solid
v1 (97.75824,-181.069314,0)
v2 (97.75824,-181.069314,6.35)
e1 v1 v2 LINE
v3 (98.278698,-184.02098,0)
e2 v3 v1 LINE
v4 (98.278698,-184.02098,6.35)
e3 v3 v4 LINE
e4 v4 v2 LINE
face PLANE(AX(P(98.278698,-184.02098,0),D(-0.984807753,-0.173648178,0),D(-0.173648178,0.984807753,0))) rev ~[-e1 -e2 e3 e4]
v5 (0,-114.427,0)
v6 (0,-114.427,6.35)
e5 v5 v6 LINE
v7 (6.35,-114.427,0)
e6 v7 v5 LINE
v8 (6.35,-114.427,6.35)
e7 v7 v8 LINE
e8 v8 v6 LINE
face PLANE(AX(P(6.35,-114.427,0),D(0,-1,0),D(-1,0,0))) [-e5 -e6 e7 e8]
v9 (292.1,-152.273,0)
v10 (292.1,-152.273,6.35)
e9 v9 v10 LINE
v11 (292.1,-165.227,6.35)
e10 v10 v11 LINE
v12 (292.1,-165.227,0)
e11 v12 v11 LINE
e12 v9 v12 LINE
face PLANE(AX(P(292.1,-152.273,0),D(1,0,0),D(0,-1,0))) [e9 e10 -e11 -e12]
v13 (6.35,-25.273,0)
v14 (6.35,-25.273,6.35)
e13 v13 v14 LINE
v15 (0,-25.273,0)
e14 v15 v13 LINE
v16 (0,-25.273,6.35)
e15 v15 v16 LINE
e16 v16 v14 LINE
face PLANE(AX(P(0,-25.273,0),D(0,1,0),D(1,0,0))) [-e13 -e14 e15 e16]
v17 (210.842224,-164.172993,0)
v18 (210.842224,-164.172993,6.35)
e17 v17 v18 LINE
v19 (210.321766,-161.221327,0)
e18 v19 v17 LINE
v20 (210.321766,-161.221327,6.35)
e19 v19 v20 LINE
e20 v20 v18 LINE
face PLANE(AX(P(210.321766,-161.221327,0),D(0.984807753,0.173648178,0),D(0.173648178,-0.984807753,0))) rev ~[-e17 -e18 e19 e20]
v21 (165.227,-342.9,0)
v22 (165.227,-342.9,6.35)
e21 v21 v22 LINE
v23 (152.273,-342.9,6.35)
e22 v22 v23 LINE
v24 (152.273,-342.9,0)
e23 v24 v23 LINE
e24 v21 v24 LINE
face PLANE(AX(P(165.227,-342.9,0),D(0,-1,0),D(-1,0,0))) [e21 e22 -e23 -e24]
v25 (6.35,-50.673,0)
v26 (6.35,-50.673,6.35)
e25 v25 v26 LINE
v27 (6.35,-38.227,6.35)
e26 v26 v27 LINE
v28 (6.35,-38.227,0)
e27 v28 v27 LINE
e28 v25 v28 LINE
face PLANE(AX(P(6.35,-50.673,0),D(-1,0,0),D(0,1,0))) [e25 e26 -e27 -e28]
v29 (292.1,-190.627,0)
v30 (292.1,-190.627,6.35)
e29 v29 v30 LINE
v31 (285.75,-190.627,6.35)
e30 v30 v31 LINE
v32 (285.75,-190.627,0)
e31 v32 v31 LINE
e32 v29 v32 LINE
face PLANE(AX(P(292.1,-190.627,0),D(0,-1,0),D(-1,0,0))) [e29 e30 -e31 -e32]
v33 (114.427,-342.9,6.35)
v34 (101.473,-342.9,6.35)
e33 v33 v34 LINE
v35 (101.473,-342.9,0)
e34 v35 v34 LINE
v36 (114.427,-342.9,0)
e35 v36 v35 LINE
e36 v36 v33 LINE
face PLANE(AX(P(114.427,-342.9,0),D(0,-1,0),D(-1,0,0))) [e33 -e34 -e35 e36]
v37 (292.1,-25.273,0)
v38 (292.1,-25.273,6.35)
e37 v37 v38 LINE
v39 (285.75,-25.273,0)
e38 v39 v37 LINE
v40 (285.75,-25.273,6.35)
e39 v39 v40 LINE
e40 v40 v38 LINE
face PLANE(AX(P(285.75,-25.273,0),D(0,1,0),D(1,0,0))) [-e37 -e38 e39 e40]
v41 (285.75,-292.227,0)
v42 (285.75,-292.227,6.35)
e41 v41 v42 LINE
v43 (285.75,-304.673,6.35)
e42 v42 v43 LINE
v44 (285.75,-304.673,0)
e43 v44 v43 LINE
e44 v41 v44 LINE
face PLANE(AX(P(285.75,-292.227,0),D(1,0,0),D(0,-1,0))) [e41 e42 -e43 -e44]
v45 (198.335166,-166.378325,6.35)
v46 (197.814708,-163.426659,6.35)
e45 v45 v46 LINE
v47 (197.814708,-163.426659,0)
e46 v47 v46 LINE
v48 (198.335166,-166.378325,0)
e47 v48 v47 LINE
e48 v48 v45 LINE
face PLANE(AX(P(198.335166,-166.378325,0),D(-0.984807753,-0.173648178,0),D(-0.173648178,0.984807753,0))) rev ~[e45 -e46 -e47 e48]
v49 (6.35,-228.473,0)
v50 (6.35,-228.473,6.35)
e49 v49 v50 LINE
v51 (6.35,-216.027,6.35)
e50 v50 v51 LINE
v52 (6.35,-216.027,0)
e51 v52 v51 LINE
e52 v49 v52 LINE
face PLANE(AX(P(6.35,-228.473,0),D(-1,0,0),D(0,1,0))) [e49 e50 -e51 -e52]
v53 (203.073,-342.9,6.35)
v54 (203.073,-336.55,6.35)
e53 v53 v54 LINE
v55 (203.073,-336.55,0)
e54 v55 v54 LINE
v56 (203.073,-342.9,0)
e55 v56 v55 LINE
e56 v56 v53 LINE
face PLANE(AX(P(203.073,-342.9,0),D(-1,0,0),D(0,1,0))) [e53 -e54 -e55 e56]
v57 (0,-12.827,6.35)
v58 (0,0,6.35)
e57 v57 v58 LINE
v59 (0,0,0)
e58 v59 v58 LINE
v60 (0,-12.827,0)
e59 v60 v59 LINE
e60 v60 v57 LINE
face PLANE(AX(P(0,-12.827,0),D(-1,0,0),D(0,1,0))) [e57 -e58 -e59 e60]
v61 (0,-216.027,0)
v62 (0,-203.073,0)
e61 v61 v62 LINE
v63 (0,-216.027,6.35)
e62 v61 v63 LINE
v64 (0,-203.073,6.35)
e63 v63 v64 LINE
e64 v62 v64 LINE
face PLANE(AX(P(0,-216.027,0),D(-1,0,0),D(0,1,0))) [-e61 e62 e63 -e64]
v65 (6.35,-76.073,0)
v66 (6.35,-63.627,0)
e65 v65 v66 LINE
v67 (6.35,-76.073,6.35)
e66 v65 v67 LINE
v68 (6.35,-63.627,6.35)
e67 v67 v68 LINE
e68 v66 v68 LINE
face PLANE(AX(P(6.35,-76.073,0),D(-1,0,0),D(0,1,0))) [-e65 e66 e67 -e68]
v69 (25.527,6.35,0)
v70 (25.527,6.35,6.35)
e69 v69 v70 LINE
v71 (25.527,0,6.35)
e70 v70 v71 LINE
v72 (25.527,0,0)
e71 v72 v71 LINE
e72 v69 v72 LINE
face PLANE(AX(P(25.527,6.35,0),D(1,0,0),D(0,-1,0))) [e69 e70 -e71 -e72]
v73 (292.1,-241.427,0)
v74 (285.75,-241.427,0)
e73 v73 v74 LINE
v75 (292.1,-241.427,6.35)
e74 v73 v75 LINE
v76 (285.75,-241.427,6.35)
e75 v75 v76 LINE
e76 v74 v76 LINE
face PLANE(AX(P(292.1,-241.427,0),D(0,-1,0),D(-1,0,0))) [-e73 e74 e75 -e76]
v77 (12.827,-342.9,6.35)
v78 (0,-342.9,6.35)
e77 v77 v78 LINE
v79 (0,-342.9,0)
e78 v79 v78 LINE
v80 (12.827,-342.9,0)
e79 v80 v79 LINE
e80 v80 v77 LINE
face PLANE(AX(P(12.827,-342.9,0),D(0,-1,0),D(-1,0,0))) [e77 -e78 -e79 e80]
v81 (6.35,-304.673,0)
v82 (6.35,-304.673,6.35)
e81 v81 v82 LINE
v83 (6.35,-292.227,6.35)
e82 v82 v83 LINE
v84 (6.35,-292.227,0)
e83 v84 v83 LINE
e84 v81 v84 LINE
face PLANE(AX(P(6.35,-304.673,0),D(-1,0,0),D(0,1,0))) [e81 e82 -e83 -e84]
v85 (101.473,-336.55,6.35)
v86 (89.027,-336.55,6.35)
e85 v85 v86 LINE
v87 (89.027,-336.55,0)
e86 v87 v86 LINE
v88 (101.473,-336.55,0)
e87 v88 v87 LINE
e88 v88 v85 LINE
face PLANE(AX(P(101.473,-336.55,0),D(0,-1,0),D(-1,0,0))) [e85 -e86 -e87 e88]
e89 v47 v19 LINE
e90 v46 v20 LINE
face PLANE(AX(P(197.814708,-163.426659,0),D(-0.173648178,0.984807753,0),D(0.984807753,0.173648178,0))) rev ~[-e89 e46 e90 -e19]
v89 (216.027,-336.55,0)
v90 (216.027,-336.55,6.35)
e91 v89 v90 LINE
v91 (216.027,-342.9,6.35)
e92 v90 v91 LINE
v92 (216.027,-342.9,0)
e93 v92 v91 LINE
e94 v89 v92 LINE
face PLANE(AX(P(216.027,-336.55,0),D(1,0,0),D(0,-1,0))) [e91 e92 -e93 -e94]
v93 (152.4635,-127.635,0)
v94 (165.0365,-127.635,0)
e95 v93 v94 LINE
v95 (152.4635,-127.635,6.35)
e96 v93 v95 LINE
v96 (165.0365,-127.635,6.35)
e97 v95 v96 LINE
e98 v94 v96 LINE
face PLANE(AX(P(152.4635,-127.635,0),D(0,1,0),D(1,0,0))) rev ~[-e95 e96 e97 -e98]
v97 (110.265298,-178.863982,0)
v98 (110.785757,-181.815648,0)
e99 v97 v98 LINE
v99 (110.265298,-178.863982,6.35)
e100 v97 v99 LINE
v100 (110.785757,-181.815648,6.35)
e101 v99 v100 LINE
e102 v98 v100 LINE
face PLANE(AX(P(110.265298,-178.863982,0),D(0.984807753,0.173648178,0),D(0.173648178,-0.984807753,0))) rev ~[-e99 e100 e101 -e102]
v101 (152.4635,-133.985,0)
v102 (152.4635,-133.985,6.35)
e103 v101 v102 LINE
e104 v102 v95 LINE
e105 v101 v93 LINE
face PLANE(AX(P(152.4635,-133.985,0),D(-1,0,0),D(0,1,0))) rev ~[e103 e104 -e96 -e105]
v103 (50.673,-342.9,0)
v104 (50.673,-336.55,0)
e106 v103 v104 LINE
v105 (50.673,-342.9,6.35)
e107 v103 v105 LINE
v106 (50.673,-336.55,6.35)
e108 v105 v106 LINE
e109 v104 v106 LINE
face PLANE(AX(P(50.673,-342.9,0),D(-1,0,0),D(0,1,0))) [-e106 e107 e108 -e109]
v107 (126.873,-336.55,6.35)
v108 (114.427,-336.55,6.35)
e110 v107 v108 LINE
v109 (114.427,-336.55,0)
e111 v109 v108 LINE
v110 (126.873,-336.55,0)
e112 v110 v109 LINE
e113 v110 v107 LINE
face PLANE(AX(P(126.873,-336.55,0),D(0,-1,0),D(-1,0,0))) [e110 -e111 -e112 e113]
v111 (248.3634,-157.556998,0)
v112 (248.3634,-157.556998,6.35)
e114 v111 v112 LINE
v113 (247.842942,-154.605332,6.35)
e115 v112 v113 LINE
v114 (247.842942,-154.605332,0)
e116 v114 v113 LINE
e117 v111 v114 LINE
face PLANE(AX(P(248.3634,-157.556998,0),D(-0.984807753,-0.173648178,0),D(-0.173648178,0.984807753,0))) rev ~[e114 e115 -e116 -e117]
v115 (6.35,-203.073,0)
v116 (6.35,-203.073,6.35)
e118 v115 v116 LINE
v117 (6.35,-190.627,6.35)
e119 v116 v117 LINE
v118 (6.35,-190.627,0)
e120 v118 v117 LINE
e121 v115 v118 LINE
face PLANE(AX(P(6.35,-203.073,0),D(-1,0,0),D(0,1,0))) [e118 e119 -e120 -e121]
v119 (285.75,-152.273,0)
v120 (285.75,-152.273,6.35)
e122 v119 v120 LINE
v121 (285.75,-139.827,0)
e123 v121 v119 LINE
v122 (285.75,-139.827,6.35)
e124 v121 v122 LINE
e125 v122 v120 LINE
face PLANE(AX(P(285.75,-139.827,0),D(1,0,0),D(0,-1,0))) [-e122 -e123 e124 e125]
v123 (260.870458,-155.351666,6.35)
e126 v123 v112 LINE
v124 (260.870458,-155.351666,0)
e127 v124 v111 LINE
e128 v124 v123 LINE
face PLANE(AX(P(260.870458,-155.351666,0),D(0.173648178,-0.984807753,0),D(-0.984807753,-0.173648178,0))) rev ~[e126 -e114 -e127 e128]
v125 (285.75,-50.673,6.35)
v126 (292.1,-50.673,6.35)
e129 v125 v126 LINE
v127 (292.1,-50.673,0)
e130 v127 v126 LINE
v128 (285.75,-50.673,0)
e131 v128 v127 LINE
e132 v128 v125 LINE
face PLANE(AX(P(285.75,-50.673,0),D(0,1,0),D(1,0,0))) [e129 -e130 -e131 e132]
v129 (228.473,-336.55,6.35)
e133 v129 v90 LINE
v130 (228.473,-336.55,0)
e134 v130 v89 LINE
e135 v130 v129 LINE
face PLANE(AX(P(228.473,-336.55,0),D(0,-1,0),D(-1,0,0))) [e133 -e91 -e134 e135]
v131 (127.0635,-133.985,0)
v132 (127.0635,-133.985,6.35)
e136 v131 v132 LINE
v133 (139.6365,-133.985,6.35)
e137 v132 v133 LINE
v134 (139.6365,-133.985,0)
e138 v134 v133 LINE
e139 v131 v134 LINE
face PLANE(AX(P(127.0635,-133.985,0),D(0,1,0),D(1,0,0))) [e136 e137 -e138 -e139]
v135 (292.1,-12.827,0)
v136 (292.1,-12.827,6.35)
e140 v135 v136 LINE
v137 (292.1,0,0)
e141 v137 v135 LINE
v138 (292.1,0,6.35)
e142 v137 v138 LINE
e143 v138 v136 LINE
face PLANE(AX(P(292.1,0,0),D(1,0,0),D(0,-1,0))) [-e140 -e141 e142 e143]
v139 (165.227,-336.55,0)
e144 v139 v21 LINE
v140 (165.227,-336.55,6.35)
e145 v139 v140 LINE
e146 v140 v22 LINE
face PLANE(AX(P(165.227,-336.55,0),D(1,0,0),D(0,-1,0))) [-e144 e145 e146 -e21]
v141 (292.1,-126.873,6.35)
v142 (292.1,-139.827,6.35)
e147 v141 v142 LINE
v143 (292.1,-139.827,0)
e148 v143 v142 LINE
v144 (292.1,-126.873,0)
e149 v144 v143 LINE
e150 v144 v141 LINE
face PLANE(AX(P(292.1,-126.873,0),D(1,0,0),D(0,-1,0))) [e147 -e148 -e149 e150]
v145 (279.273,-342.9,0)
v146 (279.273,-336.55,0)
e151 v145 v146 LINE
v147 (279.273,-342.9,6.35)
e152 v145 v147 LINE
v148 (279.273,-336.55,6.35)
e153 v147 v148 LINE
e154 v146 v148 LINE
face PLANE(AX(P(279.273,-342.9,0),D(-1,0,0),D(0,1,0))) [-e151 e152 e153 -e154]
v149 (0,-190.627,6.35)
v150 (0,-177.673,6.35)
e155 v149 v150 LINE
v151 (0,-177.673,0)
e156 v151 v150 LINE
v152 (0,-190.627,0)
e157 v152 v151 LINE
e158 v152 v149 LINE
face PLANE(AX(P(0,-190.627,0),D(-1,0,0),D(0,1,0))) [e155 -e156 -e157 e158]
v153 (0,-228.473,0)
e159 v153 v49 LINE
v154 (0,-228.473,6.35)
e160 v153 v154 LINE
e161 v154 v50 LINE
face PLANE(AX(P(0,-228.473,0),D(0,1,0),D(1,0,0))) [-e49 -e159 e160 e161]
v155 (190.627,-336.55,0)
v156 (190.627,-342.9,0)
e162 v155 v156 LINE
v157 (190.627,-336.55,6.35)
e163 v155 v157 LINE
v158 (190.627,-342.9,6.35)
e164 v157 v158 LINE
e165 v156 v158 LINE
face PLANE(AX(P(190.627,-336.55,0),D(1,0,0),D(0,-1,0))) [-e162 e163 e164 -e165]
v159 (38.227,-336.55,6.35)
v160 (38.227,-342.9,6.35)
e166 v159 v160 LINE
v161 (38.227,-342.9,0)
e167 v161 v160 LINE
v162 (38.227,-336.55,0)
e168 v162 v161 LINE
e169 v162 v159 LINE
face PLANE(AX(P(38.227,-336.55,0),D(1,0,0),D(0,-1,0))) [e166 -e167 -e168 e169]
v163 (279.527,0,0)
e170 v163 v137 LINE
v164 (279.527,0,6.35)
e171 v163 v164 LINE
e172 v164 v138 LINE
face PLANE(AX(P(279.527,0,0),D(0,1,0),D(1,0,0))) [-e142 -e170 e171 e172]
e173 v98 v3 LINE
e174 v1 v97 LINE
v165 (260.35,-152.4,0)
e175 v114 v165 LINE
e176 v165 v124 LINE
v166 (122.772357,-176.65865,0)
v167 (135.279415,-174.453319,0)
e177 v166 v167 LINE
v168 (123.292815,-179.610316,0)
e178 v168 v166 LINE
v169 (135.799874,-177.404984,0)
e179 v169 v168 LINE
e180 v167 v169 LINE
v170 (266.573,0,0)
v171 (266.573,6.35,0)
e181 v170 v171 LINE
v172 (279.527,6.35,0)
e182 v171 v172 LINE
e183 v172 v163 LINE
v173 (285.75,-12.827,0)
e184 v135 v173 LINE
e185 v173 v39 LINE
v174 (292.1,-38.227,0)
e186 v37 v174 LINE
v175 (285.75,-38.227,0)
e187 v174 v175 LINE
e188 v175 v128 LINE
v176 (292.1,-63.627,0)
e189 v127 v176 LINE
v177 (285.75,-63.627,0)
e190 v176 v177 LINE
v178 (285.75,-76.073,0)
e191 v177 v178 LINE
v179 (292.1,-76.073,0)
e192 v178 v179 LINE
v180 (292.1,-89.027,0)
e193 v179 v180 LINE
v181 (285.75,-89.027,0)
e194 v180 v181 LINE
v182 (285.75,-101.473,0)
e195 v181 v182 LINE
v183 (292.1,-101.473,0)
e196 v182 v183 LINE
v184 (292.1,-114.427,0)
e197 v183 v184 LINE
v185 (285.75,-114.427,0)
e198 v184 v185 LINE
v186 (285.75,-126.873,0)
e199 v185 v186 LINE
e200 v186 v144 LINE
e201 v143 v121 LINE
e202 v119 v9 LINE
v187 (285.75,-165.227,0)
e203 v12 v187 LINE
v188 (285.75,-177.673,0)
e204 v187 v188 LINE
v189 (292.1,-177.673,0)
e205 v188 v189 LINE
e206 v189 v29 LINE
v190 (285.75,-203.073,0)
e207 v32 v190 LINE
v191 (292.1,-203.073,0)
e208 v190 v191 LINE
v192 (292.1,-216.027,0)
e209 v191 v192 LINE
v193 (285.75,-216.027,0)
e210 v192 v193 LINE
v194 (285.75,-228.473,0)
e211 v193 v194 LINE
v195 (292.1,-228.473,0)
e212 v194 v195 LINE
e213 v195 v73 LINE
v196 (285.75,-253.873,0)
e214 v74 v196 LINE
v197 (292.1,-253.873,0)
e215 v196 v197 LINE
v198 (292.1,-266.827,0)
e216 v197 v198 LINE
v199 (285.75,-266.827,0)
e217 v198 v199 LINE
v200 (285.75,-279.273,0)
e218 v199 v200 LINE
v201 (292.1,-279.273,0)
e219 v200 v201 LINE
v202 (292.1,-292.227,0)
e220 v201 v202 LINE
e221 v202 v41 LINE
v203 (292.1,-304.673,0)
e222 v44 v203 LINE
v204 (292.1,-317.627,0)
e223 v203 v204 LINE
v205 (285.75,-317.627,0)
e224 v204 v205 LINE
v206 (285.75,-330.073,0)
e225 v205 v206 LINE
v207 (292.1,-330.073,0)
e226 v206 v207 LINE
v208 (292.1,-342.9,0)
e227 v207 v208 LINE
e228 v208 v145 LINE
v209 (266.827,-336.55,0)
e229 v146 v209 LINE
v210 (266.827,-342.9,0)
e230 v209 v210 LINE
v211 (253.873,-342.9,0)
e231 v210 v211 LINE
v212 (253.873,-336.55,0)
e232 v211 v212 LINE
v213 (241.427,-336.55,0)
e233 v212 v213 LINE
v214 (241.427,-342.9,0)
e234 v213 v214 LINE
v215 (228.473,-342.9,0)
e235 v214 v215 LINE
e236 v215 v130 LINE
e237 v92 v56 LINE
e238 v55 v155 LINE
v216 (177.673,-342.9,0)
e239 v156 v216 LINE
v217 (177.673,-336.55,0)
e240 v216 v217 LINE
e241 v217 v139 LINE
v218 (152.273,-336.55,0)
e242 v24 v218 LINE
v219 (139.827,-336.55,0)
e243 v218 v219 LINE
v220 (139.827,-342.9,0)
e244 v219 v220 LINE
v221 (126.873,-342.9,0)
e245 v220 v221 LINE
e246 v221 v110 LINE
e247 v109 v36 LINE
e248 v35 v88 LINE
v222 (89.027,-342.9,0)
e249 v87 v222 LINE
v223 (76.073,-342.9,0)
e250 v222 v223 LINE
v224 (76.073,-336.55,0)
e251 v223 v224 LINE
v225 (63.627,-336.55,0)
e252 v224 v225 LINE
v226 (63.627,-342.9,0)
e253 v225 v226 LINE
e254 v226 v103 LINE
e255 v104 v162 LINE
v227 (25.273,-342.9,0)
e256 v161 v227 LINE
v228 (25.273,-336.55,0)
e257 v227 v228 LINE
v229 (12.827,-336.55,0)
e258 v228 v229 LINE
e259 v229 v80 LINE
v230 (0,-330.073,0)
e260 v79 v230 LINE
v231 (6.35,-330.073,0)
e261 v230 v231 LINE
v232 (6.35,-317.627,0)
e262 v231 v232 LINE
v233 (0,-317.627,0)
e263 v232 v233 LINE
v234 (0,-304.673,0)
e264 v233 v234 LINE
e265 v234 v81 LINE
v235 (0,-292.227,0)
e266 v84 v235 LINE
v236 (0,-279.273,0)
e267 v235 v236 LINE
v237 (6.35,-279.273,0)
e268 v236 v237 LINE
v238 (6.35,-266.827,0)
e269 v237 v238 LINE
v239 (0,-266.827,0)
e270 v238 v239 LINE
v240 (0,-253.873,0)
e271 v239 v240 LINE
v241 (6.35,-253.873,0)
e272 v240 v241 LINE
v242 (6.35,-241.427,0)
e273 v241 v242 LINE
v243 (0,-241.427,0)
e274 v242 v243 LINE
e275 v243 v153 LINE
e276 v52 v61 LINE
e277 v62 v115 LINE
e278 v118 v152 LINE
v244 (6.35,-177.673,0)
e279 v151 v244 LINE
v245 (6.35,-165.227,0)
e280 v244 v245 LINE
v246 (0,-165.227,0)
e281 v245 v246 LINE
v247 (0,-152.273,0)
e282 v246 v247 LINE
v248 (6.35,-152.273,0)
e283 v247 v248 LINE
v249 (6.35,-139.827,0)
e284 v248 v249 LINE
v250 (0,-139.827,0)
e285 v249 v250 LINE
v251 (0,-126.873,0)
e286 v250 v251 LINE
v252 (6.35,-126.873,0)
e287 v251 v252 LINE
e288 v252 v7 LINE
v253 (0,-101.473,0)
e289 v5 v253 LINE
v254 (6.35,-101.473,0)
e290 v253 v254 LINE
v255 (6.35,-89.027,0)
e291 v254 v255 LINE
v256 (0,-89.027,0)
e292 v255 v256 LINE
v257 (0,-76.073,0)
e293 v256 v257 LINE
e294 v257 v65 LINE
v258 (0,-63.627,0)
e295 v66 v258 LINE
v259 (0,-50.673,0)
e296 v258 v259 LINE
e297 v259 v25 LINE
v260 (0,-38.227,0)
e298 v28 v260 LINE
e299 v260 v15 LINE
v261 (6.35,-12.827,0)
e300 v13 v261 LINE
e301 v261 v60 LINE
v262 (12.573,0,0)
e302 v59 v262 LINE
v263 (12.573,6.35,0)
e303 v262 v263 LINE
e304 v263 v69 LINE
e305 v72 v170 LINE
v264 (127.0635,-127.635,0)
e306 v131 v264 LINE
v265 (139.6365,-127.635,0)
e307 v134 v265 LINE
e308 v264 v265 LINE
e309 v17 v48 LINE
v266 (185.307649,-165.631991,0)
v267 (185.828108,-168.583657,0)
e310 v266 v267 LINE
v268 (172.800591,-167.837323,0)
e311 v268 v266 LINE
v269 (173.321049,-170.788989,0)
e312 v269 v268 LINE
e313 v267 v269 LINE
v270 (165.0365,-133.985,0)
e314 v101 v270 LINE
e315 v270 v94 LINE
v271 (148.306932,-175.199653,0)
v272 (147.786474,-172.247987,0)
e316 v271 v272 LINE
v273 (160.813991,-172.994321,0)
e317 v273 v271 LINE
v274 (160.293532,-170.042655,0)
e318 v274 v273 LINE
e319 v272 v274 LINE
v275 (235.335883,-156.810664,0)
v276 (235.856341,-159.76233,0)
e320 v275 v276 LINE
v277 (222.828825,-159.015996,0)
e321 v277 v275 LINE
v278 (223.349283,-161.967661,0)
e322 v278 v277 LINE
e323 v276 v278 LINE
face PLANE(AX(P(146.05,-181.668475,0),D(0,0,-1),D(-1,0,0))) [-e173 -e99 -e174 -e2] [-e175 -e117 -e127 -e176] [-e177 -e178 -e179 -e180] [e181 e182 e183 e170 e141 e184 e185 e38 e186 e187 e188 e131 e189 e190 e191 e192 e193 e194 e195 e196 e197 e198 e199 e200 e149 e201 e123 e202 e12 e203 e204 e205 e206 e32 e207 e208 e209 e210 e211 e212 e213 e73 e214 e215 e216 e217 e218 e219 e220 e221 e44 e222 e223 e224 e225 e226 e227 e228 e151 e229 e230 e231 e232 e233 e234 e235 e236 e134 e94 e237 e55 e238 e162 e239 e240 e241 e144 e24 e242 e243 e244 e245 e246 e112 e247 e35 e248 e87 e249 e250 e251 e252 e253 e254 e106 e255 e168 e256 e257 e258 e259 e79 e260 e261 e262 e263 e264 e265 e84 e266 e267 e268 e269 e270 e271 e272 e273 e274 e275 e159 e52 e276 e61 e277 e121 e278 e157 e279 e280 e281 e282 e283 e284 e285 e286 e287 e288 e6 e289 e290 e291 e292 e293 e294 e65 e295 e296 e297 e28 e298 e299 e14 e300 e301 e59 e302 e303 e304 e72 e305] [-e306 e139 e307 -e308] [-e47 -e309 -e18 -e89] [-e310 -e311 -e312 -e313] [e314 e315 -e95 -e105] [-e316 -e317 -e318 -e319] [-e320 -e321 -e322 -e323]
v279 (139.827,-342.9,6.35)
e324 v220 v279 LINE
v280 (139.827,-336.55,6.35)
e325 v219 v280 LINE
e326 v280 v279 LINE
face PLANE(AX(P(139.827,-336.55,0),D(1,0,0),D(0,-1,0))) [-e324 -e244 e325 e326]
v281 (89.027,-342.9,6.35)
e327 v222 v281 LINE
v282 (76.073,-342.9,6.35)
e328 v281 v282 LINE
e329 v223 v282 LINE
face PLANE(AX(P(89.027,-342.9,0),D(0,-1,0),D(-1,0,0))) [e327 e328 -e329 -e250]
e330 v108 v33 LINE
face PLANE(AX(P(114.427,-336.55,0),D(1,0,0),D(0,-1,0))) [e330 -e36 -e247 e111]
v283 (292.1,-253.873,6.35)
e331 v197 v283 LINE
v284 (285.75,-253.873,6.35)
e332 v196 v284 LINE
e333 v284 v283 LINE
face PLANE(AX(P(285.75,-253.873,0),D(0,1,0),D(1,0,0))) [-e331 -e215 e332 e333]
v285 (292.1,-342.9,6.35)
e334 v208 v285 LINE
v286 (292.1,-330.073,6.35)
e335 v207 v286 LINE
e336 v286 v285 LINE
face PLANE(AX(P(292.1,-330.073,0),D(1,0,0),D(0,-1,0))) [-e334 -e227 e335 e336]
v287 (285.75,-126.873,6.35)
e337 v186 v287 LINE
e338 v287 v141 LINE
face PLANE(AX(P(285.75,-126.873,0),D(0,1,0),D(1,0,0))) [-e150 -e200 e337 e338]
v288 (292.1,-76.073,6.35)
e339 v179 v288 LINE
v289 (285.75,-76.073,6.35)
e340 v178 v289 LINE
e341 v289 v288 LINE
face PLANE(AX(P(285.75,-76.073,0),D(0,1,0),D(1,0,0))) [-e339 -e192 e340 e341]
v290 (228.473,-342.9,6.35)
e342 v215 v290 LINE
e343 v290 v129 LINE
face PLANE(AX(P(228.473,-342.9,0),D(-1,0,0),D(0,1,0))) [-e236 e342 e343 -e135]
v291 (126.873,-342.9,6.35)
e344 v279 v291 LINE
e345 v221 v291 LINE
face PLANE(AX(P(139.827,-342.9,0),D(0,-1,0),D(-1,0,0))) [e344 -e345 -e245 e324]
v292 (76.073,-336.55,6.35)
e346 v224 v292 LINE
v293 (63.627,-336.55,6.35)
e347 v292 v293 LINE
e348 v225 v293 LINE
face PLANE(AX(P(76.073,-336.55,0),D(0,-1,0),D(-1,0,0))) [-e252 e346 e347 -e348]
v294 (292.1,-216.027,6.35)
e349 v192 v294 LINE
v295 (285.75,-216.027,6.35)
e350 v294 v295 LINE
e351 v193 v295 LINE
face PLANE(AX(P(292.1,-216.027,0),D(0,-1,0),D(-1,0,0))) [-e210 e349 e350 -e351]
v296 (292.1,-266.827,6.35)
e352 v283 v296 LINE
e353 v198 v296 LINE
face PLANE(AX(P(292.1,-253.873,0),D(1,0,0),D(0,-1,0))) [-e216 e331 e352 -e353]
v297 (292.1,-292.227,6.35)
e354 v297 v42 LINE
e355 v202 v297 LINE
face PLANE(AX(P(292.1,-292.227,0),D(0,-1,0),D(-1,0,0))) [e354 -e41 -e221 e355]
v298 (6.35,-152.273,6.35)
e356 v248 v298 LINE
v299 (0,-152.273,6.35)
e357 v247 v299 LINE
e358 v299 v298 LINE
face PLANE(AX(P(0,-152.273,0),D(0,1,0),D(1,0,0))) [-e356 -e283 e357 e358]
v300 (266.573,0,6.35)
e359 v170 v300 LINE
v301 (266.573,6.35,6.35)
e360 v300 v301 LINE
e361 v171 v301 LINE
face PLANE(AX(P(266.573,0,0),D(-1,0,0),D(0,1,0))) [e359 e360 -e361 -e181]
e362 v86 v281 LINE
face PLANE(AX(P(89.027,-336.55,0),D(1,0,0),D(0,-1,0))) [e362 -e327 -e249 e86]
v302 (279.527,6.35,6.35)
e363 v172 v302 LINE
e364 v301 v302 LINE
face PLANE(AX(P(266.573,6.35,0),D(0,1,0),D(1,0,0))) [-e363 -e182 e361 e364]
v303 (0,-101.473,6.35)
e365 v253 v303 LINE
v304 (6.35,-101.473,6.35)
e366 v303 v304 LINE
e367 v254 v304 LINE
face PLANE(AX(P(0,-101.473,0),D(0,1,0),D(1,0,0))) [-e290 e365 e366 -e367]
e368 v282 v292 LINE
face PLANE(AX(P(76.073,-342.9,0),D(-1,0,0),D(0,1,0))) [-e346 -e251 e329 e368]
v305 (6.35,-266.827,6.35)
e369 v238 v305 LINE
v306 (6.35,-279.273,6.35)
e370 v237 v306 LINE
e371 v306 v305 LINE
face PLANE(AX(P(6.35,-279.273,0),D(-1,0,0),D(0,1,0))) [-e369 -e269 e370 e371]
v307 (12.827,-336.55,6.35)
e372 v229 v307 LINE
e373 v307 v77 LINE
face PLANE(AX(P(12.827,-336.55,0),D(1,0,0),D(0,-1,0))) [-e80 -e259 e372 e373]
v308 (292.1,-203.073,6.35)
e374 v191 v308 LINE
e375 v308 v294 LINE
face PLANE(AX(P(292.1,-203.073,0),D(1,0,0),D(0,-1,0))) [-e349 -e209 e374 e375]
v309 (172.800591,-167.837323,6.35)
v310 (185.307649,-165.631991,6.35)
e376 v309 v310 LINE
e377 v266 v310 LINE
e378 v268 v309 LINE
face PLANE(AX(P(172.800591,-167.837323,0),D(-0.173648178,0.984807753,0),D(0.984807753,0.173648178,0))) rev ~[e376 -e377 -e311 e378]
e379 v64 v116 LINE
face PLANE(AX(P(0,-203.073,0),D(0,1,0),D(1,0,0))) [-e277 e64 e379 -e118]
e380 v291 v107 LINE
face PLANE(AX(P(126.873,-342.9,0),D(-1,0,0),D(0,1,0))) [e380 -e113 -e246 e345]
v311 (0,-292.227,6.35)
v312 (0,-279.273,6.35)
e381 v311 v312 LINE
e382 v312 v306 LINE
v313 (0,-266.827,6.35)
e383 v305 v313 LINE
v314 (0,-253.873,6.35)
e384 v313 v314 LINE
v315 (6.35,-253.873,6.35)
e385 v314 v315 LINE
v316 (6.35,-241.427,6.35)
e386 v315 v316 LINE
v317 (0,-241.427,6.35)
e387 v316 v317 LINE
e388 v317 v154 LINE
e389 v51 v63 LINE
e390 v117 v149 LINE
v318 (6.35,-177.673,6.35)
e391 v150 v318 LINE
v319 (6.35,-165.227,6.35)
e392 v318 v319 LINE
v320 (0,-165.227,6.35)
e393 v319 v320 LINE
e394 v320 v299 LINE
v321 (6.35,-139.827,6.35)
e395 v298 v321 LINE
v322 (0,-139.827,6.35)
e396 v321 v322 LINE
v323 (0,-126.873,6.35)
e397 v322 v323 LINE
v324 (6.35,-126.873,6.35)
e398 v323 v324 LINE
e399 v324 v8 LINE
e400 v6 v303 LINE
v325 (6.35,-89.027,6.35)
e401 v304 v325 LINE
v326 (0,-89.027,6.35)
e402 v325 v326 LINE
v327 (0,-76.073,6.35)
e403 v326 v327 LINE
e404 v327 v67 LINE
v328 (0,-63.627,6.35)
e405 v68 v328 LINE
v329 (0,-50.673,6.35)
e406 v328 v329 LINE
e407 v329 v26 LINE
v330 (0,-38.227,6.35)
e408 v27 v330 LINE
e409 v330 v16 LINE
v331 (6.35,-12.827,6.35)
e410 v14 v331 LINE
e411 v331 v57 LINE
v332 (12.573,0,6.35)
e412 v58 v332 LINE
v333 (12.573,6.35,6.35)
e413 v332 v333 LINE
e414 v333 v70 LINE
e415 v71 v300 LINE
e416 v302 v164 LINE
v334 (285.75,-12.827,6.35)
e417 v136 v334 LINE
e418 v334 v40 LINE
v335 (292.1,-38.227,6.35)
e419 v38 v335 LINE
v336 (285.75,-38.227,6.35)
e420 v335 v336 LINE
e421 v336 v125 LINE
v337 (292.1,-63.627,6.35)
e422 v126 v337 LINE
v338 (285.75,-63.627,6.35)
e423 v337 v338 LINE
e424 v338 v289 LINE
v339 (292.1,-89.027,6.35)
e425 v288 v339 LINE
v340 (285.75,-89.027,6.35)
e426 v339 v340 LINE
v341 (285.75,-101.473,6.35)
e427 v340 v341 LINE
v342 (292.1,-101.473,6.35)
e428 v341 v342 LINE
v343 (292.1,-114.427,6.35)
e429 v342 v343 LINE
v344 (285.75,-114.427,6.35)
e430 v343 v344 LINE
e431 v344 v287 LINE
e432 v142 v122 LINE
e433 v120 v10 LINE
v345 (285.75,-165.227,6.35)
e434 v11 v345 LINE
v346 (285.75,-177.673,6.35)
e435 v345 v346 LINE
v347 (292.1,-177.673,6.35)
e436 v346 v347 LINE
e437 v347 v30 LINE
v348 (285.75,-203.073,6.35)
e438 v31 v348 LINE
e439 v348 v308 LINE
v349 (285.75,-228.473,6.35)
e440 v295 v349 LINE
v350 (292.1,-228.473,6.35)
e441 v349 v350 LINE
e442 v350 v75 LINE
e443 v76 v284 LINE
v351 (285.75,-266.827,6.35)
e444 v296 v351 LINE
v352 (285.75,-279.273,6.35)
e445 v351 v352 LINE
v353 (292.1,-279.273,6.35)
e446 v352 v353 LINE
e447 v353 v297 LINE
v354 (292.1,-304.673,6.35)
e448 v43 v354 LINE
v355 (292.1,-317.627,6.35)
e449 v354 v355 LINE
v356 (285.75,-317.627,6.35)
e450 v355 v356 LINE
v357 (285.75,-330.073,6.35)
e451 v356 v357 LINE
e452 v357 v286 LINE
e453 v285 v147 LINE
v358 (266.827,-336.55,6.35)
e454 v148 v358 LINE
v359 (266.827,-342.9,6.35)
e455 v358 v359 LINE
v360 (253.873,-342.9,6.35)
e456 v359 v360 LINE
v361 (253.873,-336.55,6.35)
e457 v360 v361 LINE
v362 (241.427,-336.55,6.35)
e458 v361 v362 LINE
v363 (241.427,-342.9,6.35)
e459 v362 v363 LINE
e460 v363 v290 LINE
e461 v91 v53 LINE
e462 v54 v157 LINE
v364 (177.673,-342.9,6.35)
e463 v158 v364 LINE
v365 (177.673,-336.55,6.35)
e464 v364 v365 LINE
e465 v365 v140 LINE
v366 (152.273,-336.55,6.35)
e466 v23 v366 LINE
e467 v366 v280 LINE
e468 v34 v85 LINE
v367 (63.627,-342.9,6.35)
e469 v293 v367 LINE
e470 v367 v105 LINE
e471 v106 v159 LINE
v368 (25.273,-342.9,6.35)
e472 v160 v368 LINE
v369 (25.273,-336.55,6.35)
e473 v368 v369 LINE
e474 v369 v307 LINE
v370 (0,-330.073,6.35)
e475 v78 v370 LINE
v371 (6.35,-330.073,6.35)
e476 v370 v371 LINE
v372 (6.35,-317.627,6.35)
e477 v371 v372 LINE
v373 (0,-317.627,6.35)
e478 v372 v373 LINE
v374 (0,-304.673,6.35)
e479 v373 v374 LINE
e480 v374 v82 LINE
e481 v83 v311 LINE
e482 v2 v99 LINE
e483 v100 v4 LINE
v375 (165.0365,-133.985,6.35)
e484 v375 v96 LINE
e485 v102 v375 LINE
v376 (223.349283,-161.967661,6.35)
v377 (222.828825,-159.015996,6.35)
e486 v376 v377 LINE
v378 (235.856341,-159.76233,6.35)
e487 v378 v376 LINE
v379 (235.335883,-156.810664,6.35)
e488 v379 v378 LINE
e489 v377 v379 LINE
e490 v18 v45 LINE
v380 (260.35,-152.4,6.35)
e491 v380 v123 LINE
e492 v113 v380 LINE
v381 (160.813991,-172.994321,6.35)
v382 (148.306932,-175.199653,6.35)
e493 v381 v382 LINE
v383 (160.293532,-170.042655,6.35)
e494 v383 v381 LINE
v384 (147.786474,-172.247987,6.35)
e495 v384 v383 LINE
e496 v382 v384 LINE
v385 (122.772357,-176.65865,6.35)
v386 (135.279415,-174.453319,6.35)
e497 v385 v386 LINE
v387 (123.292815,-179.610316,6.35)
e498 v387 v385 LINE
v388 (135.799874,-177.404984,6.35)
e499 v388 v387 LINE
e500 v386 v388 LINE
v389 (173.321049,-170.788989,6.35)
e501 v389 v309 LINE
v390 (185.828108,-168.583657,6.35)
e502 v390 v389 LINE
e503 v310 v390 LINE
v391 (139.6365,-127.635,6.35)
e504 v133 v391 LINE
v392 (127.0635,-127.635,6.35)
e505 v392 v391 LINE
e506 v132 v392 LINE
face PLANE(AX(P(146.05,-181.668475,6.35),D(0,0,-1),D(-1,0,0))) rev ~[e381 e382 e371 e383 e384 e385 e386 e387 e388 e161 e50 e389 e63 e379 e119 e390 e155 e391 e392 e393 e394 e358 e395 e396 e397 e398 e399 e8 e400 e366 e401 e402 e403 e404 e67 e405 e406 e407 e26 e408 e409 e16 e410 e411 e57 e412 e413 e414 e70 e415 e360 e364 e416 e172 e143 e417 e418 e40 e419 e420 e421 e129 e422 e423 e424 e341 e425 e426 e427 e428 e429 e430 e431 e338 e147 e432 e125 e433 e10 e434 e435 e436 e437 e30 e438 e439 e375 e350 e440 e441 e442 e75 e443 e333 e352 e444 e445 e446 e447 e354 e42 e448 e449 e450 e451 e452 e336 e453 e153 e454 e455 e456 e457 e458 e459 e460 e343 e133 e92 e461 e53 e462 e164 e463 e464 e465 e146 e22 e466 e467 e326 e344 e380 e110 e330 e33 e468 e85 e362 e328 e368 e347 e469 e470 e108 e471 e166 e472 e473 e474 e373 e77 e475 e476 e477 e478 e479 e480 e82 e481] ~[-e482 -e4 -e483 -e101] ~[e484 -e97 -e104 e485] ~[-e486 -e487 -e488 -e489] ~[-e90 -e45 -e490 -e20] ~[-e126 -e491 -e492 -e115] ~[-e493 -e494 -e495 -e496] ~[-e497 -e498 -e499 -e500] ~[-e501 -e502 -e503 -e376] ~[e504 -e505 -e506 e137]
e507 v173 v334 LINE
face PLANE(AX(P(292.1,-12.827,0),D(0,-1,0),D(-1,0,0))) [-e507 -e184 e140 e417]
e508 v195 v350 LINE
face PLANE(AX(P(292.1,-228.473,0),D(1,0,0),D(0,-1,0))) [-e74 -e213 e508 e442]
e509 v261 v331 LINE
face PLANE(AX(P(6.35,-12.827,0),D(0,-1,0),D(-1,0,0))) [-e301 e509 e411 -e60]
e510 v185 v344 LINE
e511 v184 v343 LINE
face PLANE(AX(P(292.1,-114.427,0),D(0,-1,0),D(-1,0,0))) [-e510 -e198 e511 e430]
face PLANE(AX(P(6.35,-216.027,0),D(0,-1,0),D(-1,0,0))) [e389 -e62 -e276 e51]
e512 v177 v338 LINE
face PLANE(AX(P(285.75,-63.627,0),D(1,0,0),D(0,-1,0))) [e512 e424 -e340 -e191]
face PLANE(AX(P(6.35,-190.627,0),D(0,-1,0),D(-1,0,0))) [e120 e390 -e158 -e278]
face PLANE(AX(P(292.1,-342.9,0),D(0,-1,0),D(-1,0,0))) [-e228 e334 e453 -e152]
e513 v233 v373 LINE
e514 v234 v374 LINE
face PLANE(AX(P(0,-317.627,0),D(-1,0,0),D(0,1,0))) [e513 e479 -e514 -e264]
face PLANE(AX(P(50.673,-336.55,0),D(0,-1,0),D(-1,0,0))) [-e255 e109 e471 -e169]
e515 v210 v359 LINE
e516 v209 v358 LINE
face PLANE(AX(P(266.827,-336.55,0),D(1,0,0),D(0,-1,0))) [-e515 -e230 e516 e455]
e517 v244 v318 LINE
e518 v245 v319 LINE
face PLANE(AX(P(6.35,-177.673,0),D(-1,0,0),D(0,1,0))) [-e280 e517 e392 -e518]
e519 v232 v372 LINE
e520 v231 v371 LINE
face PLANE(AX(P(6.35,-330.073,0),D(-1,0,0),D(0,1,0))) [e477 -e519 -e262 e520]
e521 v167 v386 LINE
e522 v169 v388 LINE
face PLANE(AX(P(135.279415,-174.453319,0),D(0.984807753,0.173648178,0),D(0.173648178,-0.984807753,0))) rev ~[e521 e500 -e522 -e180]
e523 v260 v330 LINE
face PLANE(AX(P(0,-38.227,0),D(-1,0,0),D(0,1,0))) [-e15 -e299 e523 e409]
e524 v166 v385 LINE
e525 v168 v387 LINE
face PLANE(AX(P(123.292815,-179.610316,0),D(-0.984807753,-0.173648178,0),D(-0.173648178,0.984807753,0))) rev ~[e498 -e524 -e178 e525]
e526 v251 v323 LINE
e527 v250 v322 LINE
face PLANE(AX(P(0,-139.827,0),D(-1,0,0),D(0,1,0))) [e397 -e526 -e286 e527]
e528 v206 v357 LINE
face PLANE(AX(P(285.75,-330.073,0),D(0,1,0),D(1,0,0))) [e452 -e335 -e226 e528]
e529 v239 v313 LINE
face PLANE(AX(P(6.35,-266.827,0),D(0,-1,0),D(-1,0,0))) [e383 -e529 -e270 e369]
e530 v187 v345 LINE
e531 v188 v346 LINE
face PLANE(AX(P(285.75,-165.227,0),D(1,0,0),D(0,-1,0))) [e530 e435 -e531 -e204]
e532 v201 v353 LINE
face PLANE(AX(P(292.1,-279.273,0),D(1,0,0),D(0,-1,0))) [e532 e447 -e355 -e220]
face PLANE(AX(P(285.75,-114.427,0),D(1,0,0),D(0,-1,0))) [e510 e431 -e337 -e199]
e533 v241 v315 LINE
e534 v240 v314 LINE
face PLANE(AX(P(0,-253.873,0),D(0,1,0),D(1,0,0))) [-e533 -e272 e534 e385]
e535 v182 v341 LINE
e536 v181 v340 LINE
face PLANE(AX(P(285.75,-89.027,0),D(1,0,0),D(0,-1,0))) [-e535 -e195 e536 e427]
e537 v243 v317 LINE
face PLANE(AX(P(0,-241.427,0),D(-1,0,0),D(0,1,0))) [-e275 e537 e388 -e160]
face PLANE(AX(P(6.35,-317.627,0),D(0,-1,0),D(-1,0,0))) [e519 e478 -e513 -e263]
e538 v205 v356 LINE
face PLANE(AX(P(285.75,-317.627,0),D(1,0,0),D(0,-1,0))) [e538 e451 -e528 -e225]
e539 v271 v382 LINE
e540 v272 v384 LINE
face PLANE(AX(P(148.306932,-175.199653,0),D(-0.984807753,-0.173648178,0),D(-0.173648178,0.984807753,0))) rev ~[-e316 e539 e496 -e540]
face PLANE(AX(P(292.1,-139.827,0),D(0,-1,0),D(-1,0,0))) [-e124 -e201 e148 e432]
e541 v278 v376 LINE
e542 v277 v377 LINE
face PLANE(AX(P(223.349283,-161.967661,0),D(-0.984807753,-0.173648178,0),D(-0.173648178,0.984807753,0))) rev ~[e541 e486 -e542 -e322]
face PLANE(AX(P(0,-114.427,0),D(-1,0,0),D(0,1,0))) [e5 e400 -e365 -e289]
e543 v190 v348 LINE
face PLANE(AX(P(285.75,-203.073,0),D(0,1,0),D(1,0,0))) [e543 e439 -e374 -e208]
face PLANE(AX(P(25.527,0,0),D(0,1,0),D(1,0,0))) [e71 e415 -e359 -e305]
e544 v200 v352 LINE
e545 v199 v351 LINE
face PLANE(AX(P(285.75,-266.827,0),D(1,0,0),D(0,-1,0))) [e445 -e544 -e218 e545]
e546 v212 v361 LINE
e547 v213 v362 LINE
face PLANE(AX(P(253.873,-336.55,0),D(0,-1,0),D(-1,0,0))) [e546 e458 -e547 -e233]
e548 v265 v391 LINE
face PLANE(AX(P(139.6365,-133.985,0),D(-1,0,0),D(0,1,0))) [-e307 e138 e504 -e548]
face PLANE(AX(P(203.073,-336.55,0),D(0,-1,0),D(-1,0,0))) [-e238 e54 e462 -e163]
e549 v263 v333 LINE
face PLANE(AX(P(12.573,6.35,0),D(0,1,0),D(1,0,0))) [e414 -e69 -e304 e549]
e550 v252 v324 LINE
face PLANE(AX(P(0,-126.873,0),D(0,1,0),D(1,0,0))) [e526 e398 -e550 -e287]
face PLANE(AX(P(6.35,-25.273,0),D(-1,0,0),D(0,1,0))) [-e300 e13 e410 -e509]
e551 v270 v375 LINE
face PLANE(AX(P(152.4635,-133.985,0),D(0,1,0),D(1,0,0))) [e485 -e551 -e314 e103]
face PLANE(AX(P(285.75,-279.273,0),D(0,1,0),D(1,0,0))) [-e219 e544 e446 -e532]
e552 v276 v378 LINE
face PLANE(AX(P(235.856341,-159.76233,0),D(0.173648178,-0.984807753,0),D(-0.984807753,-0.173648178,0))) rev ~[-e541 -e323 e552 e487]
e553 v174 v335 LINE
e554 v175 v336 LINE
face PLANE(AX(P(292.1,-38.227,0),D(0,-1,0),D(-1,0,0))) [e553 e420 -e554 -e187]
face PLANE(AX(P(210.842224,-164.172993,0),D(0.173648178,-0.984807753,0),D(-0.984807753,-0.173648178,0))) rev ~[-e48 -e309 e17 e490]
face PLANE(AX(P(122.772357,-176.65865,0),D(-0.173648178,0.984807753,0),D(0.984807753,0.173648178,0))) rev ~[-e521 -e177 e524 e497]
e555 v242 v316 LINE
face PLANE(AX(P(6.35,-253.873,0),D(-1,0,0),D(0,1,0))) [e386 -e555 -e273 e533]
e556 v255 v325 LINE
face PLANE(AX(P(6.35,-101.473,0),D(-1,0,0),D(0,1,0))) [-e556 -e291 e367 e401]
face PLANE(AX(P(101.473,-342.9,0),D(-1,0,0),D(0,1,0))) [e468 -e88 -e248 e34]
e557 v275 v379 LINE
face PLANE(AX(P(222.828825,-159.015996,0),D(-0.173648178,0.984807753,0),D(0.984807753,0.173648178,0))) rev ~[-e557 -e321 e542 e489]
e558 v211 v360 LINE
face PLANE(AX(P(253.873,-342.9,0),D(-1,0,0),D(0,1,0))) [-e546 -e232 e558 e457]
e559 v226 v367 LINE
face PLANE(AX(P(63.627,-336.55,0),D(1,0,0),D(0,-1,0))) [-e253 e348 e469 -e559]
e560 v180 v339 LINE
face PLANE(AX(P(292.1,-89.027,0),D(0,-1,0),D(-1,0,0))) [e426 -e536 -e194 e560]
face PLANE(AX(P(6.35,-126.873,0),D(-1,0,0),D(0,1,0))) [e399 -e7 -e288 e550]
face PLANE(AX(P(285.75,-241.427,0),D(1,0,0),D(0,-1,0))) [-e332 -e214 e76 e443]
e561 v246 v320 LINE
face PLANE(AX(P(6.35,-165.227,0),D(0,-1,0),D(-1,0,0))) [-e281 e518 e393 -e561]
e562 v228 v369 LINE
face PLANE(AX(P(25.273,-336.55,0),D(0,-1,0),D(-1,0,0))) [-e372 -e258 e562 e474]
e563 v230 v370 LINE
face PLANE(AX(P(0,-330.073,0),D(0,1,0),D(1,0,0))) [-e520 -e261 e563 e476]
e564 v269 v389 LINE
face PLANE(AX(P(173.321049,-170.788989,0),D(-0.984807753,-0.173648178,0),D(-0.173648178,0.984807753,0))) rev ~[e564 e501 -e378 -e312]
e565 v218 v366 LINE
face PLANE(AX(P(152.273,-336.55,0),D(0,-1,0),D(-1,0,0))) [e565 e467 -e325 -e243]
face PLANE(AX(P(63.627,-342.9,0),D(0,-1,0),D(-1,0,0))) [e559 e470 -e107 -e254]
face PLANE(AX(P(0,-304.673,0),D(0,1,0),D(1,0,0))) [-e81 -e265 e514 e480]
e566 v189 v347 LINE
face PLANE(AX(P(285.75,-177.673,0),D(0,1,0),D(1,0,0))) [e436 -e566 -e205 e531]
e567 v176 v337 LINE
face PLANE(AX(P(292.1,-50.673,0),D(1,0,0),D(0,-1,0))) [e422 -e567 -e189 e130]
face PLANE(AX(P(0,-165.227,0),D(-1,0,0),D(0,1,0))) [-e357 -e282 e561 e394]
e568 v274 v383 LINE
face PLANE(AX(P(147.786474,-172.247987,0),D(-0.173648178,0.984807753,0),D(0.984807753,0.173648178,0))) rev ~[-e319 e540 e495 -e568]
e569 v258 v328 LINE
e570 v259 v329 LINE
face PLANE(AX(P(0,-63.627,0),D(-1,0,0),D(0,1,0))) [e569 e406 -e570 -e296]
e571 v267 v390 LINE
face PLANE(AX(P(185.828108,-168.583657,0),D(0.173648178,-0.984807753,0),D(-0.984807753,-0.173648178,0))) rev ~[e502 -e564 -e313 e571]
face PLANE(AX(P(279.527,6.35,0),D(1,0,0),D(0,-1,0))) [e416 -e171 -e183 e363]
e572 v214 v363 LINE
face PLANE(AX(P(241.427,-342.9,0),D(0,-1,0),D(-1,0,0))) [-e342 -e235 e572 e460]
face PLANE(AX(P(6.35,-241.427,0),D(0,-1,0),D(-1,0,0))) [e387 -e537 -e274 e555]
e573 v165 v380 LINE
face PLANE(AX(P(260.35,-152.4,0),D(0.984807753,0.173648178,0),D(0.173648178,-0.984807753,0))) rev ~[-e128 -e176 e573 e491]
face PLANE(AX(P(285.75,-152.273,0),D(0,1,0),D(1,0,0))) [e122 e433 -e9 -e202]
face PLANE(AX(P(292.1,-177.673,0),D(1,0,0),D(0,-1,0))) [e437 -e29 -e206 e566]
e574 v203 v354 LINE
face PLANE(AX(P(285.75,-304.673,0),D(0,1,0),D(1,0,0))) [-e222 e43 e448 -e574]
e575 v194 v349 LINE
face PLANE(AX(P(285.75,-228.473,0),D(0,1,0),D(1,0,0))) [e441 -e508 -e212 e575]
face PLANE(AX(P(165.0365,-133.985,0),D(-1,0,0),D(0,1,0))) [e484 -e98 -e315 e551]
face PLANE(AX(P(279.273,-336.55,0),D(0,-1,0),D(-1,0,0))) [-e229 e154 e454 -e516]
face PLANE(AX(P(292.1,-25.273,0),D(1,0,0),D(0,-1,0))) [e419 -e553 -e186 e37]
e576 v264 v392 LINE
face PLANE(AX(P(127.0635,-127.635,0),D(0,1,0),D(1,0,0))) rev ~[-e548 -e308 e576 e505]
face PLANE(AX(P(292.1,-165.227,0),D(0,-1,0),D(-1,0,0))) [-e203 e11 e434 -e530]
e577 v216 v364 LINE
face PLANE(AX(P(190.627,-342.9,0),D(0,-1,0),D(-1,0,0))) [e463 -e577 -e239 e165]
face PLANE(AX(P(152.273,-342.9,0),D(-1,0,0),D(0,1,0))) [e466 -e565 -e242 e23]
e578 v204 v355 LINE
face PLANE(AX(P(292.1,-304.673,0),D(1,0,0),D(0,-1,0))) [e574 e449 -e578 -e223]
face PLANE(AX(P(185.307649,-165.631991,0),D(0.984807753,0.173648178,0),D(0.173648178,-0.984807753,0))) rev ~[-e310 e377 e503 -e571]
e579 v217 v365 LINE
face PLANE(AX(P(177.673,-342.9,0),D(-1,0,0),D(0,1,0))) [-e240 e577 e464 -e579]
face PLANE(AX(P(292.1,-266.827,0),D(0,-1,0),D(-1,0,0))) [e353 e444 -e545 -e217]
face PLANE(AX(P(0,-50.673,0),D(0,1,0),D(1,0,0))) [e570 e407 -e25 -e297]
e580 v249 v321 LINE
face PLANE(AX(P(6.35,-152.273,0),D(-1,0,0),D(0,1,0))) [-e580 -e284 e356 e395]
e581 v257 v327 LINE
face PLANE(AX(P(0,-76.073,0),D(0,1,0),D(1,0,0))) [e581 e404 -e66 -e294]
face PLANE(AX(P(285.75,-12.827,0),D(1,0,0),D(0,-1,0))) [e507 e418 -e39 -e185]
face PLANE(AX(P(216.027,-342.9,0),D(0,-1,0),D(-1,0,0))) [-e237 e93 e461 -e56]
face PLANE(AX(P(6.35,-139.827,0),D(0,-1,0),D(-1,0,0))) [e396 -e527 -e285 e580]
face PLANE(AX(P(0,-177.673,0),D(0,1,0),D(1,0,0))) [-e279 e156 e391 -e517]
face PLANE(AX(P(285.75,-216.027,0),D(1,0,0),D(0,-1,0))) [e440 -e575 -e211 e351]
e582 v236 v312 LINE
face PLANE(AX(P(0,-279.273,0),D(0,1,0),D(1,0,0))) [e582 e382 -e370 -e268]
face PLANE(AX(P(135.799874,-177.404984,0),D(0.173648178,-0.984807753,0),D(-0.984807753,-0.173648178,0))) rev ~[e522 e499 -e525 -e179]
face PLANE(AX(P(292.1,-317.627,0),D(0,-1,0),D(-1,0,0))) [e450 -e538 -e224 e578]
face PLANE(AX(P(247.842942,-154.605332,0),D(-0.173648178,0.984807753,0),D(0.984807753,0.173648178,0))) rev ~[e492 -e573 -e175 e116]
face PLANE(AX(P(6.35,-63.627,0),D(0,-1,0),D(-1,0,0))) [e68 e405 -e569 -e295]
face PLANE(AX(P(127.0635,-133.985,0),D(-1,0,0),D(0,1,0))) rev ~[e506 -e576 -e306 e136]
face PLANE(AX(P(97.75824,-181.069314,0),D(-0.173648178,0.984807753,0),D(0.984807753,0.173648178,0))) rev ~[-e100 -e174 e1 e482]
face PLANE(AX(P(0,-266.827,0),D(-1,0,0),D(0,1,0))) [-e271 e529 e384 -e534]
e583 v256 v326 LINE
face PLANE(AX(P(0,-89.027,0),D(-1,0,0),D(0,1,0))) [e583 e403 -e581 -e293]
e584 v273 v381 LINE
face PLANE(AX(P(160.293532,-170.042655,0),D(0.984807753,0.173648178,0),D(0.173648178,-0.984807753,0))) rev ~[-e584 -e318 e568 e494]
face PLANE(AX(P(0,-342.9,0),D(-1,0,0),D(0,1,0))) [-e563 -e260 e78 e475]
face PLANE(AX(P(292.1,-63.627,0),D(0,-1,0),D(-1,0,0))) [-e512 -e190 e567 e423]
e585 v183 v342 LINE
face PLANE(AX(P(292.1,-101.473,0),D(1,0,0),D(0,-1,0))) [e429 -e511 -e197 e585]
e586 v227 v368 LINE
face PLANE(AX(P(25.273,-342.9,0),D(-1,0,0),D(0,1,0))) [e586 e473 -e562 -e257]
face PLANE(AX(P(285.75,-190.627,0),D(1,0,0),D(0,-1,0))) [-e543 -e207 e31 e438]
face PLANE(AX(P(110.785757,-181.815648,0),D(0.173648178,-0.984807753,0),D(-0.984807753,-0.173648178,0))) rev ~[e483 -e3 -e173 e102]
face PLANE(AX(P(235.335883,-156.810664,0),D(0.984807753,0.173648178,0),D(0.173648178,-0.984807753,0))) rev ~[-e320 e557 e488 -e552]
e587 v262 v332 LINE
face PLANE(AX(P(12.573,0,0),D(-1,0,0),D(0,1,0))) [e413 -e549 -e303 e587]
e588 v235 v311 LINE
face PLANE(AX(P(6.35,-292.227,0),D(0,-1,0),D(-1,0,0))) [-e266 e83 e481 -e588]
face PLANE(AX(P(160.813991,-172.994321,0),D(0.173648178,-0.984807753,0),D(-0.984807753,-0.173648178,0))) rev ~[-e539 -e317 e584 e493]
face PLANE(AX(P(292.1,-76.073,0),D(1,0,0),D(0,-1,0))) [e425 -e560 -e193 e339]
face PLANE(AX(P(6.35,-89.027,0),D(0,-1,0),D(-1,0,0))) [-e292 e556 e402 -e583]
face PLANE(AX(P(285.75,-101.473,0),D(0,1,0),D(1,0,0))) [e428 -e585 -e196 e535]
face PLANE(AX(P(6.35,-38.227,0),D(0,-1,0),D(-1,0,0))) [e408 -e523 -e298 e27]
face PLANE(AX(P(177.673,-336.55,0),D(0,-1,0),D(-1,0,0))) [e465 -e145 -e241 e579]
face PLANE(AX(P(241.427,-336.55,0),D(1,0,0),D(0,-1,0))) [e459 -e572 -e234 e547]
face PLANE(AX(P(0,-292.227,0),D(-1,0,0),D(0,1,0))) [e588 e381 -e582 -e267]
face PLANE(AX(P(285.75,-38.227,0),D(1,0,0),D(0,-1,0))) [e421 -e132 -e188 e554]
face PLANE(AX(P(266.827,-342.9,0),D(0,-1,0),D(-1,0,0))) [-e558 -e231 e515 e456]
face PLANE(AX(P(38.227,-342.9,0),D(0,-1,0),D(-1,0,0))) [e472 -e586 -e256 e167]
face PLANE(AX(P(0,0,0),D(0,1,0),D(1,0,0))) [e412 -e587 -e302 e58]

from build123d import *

# Parameters (mm, degrees)
SKETCH1_W           = 12.573
SKETCH1_H           = 6.35
BOSS_EXTRUDE1_DEPTH = 6.35


with BuildPart() as part:
    # Sketch1 → Boss-Extrude1 (new body)
    with BuildSketch(Plane.XY):
        Polygon((0, 0), (12.573, 0), (12.573, 6.35), (25.527, 6.35), (25.527, 0), (266.573, 0), (266.573, 6.35), (279.527, 6.35), (279.527, 0), (292.1, 0), (292.1, -12.827), (285.75, -12.827), (285.75, -25.273), (292.1, -25.273), (292.1, -38.227), (285.75, -38.227), (285.75, -50.673), (292.1, -50.673), (292.1, -63.627), (285.75, -63.627), (285.75, -76.073), (292.1, -76.073), (292.1, -89.027), (285.75, -89.027), (285.75, -101.473), (292.1, -101.473), (292.1, -114.427), (285.75, -114.427), (285.75, -126.873), (292.1, -126.873), (292.1, -139.827), (285.75, -139.827), (285.75, -152.273), (292.1, -152.273), (292.1, -165.227), (285.75, -165.227), (285.75, -177.673), (292.1, -177.673), (292.1, -190.627), (285.75, -190.627), (285.75, -203.073), (292.1, -203.073), (292.1, -216.027), (285.75, -216.027), (285.75, -228.473), (292.1, -228.473), (292.1, -241.427), (285.75, -241.427), (285.75, -253.873), (292.1, -253.873), (292.1, -266.827), (285.75, -266.827), (285.75, -279.273), (292.1, -279.273), (292.1, -292.227), (285.75, -292.227), (285.75, -304.673), (292.1, -304.673), (292.1, -317.627), (285.75, -317.627), (285.75, -330.073), (292.1, -330.073), (292.1, -342.9), (279.273, -342.9), (279.273, -336.55), (266.827, -336.55), (266.827, -342.9), (253.873, -342.9), (253.873, -336.55), (241.427, -336.55), (241.427, -342.9), (228.473, -342.9), (228.473, -336.55), (216.027, -336.55), (216.027, -342.9), (203.073, -342.9), (203.073, -336.55), (190.627, -336.55), (190.627, -342.9), (177.673, -342.9), (177.673, -336.55), (165.227, -336.55), (165.227, -342.9), (152.273, -342.9), (152.273, -336.55), (139.827, -336.55), (139.827, -342.9), (126.873, -342.9), (126.873, -336.55), (114.427, -336.55), (114.427, -342.9), (101.473, -342.9), (101.473, -336.55), (89.027, -336.55), (89.027, -342.9), (76.073, -342.9), (76.073, -336.55), (63.627, -336.55), (63.627, -342.9), (50.673, -342.9), (50.673, -336.55), (38.227, -336.55), (38.227, -342.9), (25.273, -342.9), (25.273, -336.55), (12.827, -336.55), (12.827, -342.9), (0, -342.9), (0, -330.073), (6.35, -330.073), (6.35, -317.627), (0, -317.627), (0, -304.673), (6.35, -304.673), (6.35, -292.227), (0, -292.227), (0, -279.273), (6.35, -279.273), (6.35, -266.827), (0, -266.827), (0, -253.873), (6.35, -253.873), (6.35, -241.427), (0, -241.427), (0, -228.473), (6.35, -228.473), (6.35, -216.027), (0, -216.027), (0, -203.073), (6.35, -203.073), (6.35, -190.627), (0, -190.627), (0, -177.673), (6.35, -177.673), (6.35, -165.227), (0, -165.227), (0, -152.273), (6.35, -152.273), (6.35, -139.827), (0, -139.827), (0, -126.873), (6.35, -126.873), (6.35, -114.427), (0, -114.427), (0, -101.473), (6.35, -101.473), (6.35, -89.027), (0, -89.027), (0, -76.073), (6.35, -76.073), (6.35, -63.627), (0, -63.627), (0, -50.673), (6.35, -50.673), (6.35, -38.227), (0, -38.227), (0, -25.273), (6.35, -25.273), (6.35, -12.827), (0, -12.827), align=None)
        Polygon((260.870458318, -155.351665797), (248.363399855, -157.556997654), (247.842941537, -154.605331856), (260.35, -152.4), align=None, mode=Mode.SUBTRACT)
        Polygon((235.856341392, -159.76232951), (223.349282928, -161.967661366), (222.82882461, -159.015995569), (235.335883073, -156.810663713), align=None, mode=Mode.SUBTRACT)
        with Locations((158.75, -130.81)):
            Rectangle(SKETCH1_W, SKETCH1_H, mode=Mode.SUBTRACT)
        with Locations((133.35, -130.81)):
            Rectangle(SKETCH1_W, SKETCH1_H, mode=Mode.SUBTRACT)
        Polygon((210.842224465, -164.172993223), (198.335166002, -166.378325079), (197.814707684, -163.426659282), (210.321766147, -161.221327425), align=None, mode=Mode.SUBTRACT)
        Polygon((185.828107539, -168.583656936), (173.321049075, -170.788988792), (172.800590757, -167.837322995), (185.30764922, -165.631991138), align=None, mode=Mode.SUBTRACT)
        Polygon((160.813990612, -172.994320648), (148.306932149, -175.199652505), (147.786473831, -172.247986707), (160.293532294, -170.042654851), align=None, mode=Mode.SUBTRACT)
        Polygon((135.799873686, -177.404984361), (123.292815222, -179.610316217), (122.772356904, -176.65865042), (135.279415367, -174.453318564), align=None, mode=Mode.SUBTRACT)
        Polygon((110.785756759, -181.815648074), (98.278698296, -184.02097993), (97.758239978, -181.069314133), (110.265298441, -178.863982276), align=None, mode=Mode.SUBTRACT)
    extrude(amount=BOSS_EXTRUDE1_DEPTH)


solid = part.part
